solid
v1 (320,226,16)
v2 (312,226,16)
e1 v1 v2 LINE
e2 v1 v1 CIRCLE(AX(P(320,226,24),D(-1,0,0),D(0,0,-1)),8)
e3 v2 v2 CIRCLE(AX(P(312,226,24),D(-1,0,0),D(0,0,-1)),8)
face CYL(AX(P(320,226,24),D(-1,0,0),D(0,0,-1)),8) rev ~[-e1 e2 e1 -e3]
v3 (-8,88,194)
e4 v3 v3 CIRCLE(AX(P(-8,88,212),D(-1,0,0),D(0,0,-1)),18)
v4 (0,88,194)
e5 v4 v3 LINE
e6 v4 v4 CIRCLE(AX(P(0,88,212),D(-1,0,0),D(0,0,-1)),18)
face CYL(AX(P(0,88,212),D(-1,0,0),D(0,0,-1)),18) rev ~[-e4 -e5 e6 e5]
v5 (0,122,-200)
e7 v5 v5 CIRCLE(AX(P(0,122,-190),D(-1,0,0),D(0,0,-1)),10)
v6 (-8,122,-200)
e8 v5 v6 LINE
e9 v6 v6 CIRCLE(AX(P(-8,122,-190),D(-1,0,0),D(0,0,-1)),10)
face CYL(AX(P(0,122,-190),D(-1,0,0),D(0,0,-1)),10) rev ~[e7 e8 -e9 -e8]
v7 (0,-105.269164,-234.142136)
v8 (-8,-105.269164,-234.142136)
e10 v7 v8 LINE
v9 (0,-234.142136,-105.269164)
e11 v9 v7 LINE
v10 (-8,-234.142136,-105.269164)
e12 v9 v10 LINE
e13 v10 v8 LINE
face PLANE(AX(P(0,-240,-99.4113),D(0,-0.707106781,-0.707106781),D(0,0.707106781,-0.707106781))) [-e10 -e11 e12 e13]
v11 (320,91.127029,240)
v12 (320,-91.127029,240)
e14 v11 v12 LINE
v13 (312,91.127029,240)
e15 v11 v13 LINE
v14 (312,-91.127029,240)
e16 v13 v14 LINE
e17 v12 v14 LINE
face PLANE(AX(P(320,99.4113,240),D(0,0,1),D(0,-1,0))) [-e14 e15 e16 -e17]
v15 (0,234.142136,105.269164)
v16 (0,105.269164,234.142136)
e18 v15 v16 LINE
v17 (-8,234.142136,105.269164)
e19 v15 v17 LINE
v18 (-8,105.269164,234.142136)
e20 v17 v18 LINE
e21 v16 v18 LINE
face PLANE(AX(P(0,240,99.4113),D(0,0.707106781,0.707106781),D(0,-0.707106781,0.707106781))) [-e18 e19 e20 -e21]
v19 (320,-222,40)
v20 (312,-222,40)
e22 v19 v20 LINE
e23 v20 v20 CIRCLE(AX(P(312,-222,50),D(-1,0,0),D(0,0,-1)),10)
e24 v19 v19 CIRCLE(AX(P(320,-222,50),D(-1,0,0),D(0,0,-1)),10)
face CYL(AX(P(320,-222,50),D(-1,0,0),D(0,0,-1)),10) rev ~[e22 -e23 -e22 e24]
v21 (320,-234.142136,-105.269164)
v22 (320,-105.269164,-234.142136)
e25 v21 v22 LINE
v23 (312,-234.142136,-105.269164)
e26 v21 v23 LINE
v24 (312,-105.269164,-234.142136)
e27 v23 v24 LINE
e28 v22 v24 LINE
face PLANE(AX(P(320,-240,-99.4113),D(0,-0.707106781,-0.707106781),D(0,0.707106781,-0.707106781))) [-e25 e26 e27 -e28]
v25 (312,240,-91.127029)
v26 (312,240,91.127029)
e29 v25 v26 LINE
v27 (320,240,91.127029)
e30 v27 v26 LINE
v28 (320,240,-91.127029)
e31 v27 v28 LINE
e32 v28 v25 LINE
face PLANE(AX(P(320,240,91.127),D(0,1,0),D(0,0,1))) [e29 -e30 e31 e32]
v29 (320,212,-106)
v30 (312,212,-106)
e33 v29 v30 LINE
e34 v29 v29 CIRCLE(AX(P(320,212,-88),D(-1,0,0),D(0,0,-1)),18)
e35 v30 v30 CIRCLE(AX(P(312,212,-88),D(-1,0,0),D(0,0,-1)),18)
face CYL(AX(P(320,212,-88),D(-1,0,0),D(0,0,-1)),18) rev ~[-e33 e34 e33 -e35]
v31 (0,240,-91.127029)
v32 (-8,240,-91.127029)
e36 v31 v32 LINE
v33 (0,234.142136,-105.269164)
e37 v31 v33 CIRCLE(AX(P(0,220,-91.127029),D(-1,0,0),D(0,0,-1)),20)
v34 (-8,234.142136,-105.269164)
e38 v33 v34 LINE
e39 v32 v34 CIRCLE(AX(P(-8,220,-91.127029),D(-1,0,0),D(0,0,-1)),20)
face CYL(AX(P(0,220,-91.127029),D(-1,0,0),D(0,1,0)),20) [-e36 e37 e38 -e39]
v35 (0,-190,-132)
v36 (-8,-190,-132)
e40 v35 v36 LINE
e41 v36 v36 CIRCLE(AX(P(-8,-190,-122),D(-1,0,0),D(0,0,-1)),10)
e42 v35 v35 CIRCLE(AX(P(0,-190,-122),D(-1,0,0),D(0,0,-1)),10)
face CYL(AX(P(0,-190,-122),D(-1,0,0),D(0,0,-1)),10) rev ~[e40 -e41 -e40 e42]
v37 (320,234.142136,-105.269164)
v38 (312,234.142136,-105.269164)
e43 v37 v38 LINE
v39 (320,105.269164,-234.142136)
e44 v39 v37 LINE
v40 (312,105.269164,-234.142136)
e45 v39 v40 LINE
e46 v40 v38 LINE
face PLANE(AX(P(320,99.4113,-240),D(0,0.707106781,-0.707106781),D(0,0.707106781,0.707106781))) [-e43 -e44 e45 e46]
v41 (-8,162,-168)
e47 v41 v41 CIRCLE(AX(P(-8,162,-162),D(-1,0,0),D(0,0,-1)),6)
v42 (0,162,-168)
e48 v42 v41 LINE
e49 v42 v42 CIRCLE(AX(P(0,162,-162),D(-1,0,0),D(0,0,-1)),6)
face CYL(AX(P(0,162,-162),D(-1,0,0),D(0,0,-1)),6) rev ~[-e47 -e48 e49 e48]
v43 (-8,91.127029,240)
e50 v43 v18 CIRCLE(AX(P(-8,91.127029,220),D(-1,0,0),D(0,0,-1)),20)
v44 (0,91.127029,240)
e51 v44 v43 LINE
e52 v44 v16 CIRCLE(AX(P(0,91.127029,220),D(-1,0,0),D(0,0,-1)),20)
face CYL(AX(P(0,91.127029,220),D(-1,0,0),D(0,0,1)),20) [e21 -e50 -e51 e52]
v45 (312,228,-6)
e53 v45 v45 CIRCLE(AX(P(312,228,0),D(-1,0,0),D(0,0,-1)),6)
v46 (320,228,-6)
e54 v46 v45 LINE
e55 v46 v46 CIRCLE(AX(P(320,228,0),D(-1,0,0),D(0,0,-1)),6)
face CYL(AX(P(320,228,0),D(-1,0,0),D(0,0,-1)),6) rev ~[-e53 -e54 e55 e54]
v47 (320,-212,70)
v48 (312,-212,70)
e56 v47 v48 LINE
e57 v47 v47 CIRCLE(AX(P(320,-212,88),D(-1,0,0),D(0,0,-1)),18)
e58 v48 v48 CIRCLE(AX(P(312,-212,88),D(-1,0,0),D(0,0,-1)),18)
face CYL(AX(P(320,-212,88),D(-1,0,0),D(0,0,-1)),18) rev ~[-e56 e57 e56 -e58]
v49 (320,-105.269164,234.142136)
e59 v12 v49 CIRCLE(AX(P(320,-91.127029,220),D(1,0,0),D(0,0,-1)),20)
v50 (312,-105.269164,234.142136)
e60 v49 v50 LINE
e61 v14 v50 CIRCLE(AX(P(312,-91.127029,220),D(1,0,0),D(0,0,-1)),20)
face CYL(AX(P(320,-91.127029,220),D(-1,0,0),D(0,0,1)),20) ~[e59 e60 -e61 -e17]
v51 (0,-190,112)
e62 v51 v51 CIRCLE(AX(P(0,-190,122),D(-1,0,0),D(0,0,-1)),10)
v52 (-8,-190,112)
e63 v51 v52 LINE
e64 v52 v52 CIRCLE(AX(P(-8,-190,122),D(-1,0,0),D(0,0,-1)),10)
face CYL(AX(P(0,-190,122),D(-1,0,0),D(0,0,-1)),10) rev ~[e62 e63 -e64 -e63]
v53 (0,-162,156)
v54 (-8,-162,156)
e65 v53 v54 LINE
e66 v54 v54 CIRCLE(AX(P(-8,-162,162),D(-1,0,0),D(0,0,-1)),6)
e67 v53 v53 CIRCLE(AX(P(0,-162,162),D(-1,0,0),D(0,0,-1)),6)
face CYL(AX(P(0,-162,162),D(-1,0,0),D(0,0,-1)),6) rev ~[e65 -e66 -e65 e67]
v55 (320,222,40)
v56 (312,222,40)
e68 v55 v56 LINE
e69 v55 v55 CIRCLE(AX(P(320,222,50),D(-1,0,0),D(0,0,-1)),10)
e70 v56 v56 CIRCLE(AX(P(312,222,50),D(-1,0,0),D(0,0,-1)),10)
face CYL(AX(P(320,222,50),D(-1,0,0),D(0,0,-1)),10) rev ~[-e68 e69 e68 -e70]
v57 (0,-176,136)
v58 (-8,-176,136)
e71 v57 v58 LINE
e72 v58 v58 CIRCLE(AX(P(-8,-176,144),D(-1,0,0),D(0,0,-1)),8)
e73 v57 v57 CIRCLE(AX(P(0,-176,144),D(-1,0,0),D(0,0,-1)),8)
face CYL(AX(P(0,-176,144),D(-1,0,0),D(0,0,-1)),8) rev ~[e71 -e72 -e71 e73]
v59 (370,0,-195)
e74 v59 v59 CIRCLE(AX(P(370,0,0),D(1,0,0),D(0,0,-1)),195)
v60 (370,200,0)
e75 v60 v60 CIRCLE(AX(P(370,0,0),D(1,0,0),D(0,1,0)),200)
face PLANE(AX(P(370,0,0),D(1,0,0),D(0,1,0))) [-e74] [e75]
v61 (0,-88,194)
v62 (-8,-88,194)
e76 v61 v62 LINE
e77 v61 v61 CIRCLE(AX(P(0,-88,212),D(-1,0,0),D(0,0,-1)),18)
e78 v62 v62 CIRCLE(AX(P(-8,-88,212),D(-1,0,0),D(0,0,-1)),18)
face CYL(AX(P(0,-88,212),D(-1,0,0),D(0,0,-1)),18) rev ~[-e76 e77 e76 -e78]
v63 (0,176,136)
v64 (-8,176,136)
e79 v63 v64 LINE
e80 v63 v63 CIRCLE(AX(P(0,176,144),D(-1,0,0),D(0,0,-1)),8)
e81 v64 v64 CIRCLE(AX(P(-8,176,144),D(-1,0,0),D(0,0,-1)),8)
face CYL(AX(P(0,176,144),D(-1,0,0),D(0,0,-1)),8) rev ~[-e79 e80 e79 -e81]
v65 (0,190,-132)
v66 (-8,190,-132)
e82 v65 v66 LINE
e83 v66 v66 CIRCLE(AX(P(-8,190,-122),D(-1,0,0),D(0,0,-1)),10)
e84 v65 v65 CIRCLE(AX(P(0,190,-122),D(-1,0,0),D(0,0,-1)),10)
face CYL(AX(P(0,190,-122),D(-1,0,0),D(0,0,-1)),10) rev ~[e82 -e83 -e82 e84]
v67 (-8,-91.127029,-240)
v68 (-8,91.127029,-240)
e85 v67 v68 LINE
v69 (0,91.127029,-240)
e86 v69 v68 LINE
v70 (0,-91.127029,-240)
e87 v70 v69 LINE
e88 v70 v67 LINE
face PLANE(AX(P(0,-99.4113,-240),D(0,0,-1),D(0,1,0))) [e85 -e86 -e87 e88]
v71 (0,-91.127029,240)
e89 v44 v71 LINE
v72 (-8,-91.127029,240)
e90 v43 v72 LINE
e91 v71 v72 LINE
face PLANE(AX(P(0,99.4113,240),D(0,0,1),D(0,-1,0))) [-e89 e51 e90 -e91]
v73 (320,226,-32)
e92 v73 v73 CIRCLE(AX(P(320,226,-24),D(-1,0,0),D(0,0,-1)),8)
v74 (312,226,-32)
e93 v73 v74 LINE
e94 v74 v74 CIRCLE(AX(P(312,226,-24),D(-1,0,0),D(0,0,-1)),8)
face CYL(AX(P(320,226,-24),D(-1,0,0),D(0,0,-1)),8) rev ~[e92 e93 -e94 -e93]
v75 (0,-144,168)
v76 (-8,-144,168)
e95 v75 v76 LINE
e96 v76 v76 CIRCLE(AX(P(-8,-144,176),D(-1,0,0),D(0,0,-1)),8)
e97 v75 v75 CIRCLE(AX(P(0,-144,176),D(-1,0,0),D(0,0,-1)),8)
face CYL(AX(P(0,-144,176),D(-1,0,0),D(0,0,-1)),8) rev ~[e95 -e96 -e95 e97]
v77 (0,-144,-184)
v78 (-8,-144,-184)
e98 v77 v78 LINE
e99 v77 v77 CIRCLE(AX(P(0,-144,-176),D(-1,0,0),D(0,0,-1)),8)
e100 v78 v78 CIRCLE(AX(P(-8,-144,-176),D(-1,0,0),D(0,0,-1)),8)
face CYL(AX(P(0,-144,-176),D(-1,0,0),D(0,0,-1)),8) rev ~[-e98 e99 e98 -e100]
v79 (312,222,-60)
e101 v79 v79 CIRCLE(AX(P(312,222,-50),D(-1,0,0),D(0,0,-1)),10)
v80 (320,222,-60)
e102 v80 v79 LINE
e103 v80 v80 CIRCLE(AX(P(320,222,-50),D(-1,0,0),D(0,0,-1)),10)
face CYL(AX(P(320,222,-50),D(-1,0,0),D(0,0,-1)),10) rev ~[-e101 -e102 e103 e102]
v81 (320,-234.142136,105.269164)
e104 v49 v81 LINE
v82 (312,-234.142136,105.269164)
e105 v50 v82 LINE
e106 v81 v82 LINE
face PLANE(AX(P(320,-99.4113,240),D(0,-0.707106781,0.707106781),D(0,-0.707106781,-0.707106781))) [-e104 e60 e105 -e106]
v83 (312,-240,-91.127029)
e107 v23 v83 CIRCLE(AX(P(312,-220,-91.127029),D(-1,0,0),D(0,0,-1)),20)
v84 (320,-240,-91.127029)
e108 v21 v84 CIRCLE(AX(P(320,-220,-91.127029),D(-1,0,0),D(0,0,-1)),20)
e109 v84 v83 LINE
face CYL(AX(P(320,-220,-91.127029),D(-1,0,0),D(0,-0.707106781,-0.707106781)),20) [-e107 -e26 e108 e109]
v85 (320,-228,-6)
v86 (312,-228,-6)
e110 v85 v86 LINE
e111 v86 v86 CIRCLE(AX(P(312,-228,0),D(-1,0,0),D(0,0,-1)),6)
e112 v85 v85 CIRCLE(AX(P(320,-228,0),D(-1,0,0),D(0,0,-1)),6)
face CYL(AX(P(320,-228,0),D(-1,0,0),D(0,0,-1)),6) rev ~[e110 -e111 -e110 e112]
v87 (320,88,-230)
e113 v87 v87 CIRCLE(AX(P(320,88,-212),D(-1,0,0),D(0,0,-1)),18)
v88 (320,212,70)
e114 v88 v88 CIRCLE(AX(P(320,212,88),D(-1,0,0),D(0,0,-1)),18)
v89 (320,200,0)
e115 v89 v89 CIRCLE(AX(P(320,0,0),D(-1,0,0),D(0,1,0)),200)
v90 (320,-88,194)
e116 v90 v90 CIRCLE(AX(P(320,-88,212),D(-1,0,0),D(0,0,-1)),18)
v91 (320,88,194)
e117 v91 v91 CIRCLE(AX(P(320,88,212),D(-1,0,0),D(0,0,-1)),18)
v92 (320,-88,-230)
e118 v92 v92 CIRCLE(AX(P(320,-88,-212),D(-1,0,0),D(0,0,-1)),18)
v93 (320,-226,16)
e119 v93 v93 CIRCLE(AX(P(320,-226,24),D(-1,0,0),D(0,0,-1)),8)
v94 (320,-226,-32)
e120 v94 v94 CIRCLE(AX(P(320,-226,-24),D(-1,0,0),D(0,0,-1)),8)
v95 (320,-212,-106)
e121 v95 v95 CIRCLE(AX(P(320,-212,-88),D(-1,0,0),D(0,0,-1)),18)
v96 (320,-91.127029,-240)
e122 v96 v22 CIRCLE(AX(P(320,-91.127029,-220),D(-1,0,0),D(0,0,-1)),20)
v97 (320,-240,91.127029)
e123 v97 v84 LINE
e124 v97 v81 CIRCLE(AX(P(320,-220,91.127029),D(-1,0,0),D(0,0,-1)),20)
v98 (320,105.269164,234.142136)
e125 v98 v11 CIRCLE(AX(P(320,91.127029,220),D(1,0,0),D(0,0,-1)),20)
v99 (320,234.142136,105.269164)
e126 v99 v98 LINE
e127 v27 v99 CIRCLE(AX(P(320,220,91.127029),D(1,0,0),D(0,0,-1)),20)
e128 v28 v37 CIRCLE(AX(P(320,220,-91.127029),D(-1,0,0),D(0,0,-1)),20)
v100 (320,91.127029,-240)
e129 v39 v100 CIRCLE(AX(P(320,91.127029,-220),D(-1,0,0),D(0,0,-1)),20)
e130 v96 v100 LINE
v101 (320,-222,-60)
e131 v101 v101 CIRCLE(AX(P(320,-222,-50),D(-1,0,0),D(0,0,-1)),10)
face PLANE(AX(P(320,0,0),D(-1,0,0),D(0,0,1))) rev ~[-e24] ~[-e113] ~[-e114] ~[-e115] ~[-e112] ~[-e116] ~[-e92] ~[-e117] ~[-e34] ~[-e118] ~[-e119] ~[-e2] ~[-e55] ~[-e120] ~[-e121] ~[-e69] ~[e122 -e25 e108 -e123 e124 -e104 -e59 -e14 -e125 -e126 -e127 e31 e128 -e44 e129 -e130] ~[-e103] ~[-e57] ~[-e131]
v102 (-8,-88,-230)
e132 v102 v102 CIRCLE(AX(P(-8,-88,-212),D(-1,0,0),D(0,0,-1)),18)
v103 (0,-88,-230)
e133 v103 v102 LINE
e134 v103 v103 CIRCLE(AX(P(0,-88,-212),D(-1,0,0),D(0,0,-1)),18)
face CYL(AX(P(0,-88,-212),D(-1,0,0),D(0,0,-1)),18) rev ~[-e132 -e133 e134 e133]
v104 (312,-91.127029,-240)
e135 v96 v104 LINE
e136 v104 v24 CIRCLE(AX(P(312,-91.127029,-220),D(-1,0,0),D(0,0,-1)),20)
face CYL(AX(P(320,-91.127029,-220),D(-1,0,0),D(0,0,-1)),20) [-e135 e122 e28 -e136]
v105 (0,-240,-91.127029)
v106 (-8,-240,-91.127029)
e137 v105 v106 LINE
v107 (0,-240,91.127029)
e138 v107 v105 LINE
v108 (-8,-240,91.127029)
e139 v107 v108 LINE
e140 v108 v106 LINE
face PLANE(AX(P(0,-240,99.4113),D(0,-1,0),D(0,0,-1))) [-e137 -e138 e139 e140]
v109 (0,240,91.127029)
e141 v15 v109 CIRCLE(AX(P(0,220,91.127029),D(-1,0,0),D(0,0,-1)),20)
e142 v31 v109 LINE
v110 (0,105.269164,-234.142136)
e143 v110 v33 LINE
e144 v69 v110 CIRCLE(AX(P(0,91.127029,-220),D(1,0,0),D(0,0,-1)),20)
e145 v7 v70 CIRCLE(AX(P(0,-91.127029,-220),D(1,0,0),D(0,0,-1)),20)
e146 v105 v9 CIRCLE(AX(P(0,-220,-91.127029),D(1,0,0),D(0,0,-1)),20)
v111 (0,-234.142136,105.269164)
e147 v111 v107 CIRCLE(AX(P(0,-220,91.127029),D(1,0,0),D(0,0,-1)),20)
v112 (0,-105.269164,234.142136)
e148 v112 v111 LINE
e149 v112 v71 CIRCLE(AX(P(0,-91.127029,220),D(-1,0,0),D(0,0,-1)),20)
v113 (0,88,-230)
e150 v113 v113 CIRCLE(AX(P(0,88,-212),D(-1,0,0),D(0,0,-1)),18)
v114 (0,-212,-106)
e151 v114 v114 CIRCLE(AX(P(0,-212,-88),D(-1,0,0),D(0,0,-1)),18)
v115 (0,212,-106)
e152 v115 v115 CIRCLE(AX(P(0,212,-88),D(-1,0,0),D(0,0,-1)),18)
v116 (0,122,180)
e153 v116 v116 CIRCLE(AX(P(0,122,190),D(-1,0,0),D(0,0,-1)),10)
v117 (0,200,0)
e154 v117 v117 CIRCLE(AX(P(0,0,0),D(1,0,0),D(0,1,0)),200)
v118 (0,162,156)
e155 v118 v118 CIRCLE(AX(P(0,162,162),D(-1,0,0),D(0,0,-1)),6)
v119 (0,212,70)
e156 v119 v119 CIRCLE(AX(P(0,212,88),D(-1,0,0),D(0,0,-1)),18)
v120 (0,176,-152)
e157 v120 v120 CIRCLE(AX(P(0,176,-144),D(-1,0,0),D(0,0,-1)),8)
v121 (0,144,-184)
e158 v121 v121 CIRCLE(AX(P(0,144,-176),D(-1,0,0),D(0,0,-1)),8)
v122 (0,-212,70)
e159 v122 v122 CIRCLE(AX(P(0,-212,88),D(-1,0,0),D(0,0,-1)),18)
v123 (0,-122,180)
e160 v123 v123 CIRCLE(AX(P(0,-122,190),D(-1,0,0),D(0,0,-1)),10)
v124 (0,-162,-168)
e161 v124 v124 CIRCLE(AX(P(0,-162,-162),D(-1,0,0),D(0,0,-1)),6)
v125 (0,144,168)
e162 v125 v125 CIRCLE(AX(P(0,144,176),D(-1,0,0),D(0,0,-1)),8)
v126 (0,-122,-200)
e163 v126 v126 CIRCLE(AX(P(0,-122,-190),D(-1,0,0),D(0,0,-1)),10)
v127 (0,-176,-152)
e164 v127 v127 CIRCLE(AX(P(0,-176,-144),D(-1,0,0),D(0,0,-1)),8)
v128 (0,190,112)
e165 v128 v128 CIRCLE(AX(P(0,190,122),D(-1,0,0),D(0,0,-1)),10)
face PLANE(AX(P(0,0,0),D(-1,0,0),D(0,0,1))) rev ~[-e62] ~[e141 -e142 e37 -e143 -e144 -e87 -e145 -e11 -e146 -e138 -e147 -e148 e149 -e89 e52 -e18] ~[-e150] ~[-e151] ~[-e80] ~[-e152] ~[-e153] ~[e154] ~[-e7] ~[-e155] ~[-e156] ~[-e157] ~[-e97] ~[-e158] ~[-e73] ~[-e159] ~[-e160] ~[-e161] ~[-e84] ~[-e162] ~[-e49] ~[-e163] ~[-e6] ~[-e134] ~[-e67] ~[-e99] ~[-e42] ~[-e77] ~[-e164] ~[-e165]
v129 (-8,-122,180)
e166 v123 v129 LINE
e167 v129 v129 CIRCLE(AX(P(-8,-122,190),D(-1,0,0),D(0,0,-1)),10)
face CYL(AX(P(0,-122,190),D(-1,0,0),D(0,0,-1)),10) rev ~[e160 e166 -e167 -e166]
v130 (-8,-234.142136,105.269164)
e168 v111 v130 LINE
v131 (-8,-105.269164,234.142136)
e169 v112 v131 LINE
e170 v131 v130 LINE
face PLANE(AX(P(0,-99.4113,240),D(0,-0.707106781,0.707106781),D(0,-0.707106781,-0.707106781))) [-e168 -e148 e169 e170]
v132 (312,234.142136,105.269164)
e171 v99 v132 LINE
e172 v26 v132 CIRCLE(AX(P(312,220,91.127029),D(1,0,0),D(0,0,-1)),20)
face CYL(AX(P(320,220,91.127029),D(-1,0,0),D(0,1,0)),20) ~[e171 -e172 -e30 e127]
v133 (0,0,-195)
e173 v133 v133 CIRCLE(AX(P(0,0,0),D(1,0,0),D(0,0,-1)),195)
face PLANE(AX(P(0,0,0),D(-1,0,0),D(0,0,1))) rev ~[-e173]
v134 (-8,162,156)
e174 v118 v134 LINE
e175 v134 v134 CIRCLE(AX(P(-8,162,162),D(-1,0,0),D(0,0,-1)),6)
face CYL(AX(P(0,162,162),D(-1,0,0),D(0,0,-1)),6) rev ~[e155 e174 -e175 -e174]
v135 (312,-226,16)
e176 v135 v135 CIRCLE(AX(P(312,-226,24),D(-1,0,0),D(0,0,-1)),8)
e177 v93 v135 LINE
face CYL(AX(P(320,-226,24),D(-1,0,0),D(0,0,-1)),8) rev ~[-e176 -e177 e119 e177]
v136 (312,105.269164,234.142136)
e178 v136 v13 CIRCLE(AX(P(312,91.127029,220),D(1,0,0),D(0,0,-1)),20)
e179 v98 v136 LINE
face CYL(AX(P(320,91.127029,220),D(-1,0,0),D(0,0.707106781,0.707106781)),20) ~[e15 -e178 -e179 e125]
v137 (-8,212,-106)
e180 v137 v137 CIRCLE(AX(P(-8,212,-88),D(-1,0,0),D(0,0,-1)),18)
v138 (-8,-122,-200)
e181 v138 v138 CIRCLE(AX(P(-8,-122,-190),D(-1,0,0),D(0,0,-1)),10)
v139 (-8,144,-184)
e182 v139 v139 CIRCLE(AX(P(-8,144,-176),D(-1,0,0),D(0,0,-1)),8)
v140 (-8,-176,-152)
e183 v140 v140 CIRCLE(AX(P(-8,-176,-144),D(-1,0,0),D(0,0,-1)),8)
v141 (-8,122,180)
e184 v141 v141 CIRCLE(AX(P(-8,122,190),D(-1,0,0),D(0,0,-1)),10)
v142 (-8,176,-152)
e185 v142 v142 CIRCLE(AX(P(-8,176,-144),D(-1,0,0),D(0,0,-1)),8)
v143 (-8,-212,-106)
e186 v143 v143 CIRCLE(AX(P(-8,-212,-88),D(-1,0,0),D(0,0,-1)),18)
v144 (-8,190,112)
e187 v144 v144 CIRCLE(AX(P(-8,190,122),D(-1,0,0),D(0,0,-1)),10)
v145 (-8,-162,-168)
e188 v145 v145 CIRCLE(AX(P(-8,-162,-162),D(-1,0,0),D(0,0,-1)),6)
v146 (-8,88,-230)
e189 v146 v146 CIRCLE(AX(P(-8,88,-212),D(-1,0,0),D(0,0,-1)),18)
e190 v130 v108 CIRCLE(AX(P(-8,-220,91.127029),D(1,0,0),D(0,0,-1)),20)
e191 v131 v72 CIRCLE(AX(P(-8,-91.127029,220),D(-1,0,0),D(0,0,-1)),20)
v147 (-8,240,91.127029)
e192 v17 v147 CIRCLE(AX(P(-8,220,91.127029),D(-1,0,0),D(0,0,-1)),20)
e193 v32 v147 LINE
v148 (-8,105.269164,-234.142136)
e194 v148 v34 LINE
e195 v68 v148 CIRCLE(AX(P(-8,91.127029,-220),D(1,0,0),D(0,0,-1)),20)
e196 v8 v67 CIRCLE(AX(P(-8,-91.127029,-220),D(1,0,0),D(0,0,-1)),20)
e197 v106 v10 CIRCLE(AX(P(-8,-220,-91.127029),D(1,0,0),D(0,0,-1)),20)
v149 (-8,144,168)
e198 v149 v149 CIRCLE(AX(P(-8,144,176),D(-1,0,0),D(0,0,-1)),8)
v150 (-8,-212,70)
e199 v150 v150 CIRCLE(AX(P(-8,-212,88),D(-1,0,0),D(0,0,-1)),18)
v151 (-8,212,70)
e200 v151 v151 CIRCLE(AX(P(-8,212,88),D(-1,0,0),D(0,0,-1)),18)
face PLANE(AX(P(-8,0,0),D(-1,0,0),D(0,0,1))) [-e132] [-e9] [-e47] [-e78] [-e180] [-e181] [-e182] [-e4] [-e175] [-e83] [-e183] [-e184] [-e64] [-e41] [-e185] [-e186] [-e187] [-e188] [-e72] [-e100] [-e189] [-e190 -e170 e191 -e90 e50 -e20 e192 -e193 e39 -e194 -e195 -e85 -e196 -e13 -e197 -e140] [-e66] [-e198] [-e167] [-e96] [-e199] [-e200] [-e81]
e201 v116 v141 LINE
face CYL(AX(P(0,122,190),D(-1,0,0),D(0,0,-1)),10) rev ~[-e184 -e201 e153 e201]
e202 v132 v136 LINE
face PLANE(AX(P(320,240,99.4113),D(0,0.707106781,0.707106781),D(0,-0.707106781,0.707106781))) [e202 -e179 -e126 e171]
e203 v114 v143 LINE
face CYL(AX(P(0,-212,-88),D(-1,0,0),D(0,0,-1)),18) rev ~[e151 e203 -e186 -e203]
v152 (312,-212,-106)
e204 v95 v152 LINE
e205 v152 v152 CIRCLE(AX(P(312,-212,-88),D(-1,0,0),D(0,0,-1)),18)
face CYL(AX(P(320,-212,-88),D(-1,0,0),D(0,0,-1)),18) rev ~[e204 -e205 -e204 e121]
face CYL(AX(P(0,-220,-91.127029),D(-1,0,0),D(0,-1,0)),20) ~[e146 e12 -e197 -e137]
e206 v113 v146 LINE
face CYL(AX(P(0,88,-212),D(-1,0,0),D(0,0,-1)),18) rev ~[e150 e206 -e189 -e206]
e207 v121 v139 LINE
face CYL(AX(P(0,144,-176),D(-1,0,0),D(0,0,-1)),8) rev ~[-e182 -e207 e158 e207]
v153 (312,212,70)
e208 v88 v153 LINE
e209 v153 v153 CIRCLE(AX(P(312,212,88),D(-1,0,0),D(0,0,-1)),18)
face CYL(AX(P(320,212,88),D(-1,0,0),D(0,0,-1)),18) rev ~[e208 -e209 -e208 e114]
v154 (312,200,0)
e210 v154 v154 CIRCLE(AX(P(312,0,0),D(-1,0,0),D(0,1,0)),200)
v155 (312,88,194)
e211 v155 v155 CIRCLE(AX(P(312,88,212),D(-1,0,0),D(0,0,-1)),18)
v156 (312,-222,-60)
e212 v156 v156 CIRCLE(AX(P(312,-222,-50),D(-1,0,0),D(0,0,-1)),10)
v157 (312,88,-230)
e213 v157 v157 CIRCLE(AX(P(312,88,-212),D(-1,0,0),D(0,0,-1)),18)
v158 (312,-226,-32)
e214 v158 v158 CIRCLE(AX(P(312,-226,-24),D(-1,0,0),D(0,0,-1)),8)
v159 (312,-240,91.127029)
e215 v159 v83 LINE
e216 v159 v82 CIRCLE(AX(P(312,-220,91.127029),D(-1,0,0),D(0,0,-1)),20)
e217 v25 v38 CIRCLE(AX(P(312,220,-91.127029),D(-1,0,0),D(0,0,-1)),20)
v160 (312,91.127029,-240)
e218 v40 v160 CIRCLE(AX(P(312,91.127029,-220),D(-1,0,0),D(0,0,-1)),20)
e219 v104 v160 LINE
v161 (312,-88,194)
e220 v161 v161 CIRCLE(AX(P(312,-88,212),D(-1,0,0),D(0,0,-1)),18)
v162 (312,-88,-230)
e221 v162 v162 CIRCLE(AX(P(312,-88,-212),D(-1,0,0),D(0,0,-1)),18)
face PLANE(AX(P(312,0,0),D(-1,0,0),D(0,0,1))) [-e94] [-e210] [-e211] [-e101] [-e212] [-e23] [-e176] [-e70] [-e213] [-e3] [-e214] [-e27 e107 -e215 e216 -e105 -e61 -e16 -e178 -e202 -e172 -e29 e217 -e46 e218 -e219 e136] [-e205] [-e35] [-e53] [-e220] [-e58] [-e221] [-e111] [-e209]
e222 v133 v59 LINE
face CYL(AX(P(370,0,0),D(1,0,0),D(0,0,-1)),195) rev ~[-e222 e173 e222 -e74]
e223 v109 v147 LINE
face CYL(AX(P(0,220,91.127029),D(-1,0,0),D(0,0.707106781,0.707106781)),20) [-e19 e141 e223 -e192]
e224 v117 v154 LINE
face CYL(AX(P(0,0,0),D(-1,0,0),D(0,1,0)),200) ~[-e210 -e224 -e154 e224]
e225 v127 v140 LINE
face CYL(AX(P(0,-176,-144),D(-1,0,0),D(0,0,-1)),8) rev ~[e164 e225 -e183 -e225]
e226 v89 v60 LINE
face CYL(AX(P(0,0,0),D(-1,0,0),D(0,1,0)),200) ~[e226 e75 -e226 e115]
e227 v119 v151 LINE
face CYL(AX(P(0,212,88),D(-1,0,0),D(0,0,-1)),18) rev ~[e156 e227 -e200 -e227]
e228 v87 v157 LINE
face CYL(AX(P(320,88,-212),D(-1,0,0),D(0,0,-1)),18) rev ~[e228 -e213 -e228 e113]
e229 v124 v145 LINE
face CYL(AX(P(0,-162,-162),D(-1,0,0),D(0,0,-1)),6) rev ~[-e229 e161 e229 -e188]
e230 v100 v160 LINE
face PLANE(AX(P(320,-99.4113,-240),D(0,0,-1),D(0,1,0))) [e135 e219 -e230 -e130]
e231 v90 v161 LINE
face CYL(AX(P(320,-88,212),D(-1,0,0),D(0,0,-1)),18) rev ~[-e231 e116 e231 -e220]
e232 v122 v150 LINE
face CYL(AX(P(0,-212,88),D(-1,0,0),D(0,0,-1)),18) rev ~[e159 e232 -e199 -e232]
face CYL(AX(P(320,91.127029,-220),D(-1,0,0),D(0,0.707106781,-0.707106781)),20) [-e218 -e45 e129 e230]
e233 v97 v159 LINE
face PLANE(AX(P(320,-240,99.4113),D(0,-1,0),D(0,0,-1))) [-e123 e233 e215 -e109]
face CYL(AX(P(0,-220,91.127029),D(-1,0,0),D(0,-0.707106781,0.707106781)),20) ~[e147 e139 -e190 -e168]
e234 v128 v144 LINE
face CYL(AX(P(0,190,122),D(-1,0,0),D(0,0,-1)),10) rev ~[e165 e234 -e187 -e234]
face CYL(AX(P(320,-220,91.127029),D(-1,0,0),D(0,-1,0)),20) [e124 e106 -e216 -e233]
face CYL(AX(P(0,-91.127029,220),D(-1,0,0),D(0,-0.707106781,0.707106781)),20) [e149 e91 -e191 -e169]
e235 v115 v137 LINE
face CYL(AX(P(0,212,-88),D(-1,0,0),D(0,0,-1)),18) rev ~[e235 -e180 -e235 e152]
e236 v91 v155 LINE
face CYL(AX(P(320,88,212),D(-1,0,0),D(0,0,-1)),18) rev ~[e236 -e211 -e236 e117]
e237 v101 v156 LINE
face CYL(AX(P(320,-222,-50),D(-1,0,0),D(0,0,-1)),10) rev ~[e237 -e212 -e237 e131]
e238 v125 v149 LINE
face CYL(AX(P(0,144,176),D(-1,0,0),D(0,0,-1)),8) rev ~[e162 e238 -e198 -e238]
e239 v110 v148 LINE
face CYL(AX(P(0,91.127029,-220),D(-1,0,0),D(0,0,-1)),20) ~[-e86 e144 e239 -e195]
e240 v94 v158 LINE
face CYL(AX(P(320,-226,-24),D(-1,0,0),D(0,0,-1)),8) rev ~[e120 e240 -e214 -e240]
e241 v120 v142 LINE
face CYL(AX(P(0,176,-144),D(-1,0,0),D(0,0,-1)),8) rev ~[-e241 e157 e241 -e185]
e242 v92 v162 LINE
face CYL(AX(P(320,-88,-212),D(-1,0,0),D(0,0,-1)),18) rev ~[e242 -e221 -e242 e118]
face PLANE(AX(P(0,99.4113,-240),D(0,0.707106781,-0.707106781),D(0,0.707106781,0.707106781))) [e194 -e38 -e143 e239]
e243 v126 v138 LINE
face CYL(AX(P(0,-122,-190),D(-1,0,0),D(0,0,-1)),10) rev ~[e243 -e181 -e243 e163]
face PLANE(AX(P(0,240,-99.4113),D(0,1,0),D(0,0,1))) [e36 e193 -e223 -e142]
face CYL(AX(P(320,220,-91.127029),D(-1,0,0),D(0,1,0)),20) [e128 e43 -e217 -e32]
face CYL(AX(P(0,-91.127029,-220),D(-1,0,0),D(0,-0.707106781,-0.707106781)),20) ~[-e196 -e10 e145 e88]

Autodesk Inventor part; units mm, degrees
ref_plane "YZ Plane" through (0, 0, 0) normal (1, 0, 0) x (0, 1, 0)
sketch "Sketch1" plane through (0, 0, 0) normal (1, 0, 0) x (0, 1, 0)
  circle A0 centre (0, 0) radius 200
extrude "Extrusion1" add sketch "Sketch1" along normal blind 370
sketch "Sketch2" plane through (0, 0, 0) normal (-1, 0, 0) x (0, 0, 1)
  point P0 (0, 0)
sketch "Sketch3" plane through (370, 0, 0) normal (1, 0, 0) x (0, 0, -1)
  circle A0 centre (0, 0) radius 195
  dimension "d2" = 390
extrude "Extrusion2" cut sketch "Sketch3" against normal blind 370
ref_plane "Work Plane1" through (0, 0, 0) normal (-1, 0, 0) x (0, 0, 1)
sketch "Sketch4" plane through (0, 0, 0) normal (-1, 0, 0) x (0, 0, 1)
  point P0 (0, 0)
sketch "Sketch5" plane through (0, 0, 0) normal (-1, 0, 0) x (0, 0, 1)
  line L0 (240, -99.4113) -> (99.4113, -240)
  line L1 (99.4113, -240) -> (-99.4113, -240)
  line L2 (-99.4113, -240) -> (-240, -99.4113)
  line L3 (-240, -99.4113) -> (-240, 99.4113)
  line L4 (-240, 99.4113) -> (-99.4113, 240)
  line L5 (-99.4113, 240) -> (99.4113, 240)
  line L6 (99.4113, 240) -> (240, 99.4113)
  line L7 (240, 99.4113) -> (240, -99.4113)
  point P0 (0, 0)
  point P1 (0, 0)
extrude "BackPlate" add sketch "Sketch5" along normal blind 8
fillet "Fillet1" radius 20 8 edges at (-4, -240, 99.4113) (-4, -240, -99.4113) (-4, -99.4113, -240) (-4, 99.4113, -240) (-4, 240, -99.4113) (-4, 240, 99.4113) (-4, 99.4113, 240) (-4, -99.4113, 240)
ref_plane "Work Plane3" through (320, 0, 0) normal (-1, 0, 0) x (0, 0, 1)
sketch "Sketch6" plane through (320, 0, 0) normal (-1, 0, 0) x (0, 0, 1)
  line L0 (91.127, 240) -> (-91.127, 240) projected
  line L1 (99.4113, 240) -> (240, 99.4113)
  line L2 (240, 99.4113) -> (240, -99.4113)
  line L3 (240, -99.4113) -> (99.4113, -240)
  line L4 (99.4113, -240) -> (-99.4113, -240)
  line L5 (-99.4113, -240) -> (-240, -99.4113)
  line L6 (-240, -99.4113) -> (-240, 99.4113)
  line L7 (-240, 99.4113) -> (-99.4113, 240)
  line L8 (-99.4113, 240) -> (99.4113, 240)
  point P0 (0, 0)
  point P1 (0, 0)
  point P2 (0, 240)
extrude "FrontPlate" add sketch "Sketch6" along normal blind 8
sketch "Sketch7" plane through (320, 0, 0) normal (1, 0, 0) x (0, 0, -1)
  circle A0 centre (0, 0) radius 195
extrude "Extrusion5" cut sketch "Sketch7" against normal blind 8
fillet "Fillet2" radius 20 8 edges at (316, -99.4113, 240) (316, 99.4113, 240) (316, 240, 99.4113) (316, 240, -99.4113) (316, 99.4113, -240) (316, -99.4113, -240) (316, -240, -99.4113) (316, -240, 99.4113)
sketch "BackplateHoles" plane through (0, 0, 0) normal (1, 0, 0) x (0, 0, -1)
  circle A0 centre (-88, 212) radius 18
  circle A1 centre (-88, -212) radius 18
  circle A2 centre (-212, 88) radius 18
  circle A3 centre (-212, -88) radius 18
  circle A4 centre (-190, 122) radius 10
  circle A5 centre (-122, 190) radius 10
  circle A6 centre (-144, 176) radius 8
  circle A7 centre (-176, 144) radius 8
  circle A8 centre (-162, 162) radius 6
  line L0 (-240, 0) -> (240, 0) construction
  circle A9 centre (-190, -122) radius 10
  circle A10 centre (-176, -144) radius 8
  circle A11 centre (-162, -162) radius 6
  circle A12 centre (-144, -176) radius 8
  circle A13 centre (-122, -190) radius 10
  circle A14 centre (88, 212) radius 18
  circle A15 centre (212, 88) radius 18
  circle A16 centre (190, 122) radius 10
  circle A17 centre (122, 190) radius 10
  circle A18 centre (144, 176) radius 8
  circle A19 centre (176, 144) radius 8
  circle A20 centre (162, 162) radius 6
  circle A21 centre (88, -212) radius 18
  circle A22 centre (212, -88) radius 18
  circle A23 centre (190, -122) radius 10
  circle A24 centre (162, -162) radius 6
  circle A25 centre (144, -176) radius 8
  circle A26 centre (122, -190) radius 10
  circle A27 centre (176, -144) radius 8
  point P0 (0, 0)
  point P1 (0, 0)
sketch "FrontplateHoles" plane through (320, 0, 0) normal (1, 0, 0) x (0, 0, -1)
  circle A0 centre (-88, 212) radius 18
  circle A1 centre (-88, -212) radius 18
  circle A2 centre (-212, 88) radius 18
  circle A3 centre (-212, -88) radius 18
  circle A4 centre (-190, 122) radius 10
  circle A5 centre (-122, 190) radius 10
  circle A6 centre (-144, 176) radius 8
  circle A7 centre (-176, 144) radius 8
  circle A8 centre (-162, 162) radius 6
  circle A9 centre (50, -222) radius 10
  circle A10 centre (24, -226) radius 8
  circle A11 centre (0, -228) radius 6
  circle A12 centre (-24, -226) radius 8
  circle A13 centre (-50, -222) radius 10
  circle A14 centre (-190, -122) radius 10
  circle A15 centre (-176, -144) radius 8
  circle A16 centre (-162, -162) radius 6
  circle A17 centre (-144, -176) radius 8
  circle A18 centre (-122, -190) radius 10
  circle A19 centre (88, 212) radius 18
  circle A20 centre (212, 88) radius 18
  circle A21 centre (190, 122) radius 10
  circle A22 centre (122, 190) radius 10
  circle A23 centre (144, 176) radius 8
  circle A24 centre (176, 144) radius 8
  circle A25 centre (162, 162) radius 6
  circle A26 centre (88, -212) radius 18
  circle A27 centre (212, -88) radius 18
  circle A28 centre (190, -122) radius 10
  circle A29 centre (162, -162) radius 6
  circle A30 centre (144, -176) radius 8
  circle A31 centre (122, -190) radius 10
  circle A32 centre (176, -144) radius 8
  circle A33 centre (222.0138, -50) radius 10
  circle A34 centre (226, -24) radius 8
  circle A35 centre (228.0138, 0) radius 6
  circle A36 centre (226, 24) radius 8
  circle A37 centre (222.0138, 50) radius 10
  circle A38 centre (-222, -50) radius 10
  circle A39 centre (-226, -24) radius 8
  circle A40 centre (-228, 0) radius 6
  circle A41 centre (-226, 24) radius 8
  circle A42 centre (-222, 50) radius 10
  circle A43 centre (50, 222) radius 10
  circle A44 centre (24, 226) radius 8
  circle A45 centre (0, 228) radius 6
  circle A46 centre (-24, 226) radius 8
  circle A47 centre (-50, 222) radius 10
  point P0 (0, 0)
  point P1 (0, 0)
hole "Hole1" at (0, -212, -88) at (0, -88, -212) at (0, 88, -212) at (0, 212, -88) at (0, 212, 88) at (0, 88, 212) at (0, -88, 212) at (0, -212, 88) direction (-1, 0, 0) diameter 36 depth 8
hole "Hole2" at (0, -190, 122) at (0, -122, 190) at (0, 122, 190) at (0, 190, 122) at (0, 190, -122) at (0, 122, -190) at (0, -122, -190) at (0, -190, -122) direction (-1, 0, 0) diameter 20 depth 8
hole "Hole3" at (0, -144, 176) at (0, 176, 144) at (0, 144, 176) at (0, -176, 144) at (0, -176, -144) at (0, -144, -176) at (0, 144, -176) at (0, 176, -144) direction (-1, 0, 0) diameter 16 depth 8
hole "Hole4" at (0, -162, 162) at (0, 162, 162) at (0, 162, -162) at (0, -162, -162) direction (-1, 0, 0) diameter 12 depth 8
hole "Hole5" at (320, -88, 212) at (320, 88, 212) at (320, 212, 88) at (320, 212, -88) at (320, -212, -88) at (320, -212, 88) at (320, -88, -212) at (320, 88, -212) direction (-1, 0, 0) diameter 36 depth 8
hole "Hole6" at (320, 222, 50) at (320, 222, -50) at (320, -222, 50) at (320, -222, -50) direction (-1, 0, 0) diameter 20 depth 8
hole "Hole7" at (320, -226, 24) at (320, -226, -24) at (320, 226, -24) at (320, 226, 24) direction (-1, 0, 0) diameter 16 depth 8
hole "Hole8" at (320, 228, 0) at (320, -228, 0) direction (-1, 0, 0) diameter 12 depth 8
properties part number "Primary"
